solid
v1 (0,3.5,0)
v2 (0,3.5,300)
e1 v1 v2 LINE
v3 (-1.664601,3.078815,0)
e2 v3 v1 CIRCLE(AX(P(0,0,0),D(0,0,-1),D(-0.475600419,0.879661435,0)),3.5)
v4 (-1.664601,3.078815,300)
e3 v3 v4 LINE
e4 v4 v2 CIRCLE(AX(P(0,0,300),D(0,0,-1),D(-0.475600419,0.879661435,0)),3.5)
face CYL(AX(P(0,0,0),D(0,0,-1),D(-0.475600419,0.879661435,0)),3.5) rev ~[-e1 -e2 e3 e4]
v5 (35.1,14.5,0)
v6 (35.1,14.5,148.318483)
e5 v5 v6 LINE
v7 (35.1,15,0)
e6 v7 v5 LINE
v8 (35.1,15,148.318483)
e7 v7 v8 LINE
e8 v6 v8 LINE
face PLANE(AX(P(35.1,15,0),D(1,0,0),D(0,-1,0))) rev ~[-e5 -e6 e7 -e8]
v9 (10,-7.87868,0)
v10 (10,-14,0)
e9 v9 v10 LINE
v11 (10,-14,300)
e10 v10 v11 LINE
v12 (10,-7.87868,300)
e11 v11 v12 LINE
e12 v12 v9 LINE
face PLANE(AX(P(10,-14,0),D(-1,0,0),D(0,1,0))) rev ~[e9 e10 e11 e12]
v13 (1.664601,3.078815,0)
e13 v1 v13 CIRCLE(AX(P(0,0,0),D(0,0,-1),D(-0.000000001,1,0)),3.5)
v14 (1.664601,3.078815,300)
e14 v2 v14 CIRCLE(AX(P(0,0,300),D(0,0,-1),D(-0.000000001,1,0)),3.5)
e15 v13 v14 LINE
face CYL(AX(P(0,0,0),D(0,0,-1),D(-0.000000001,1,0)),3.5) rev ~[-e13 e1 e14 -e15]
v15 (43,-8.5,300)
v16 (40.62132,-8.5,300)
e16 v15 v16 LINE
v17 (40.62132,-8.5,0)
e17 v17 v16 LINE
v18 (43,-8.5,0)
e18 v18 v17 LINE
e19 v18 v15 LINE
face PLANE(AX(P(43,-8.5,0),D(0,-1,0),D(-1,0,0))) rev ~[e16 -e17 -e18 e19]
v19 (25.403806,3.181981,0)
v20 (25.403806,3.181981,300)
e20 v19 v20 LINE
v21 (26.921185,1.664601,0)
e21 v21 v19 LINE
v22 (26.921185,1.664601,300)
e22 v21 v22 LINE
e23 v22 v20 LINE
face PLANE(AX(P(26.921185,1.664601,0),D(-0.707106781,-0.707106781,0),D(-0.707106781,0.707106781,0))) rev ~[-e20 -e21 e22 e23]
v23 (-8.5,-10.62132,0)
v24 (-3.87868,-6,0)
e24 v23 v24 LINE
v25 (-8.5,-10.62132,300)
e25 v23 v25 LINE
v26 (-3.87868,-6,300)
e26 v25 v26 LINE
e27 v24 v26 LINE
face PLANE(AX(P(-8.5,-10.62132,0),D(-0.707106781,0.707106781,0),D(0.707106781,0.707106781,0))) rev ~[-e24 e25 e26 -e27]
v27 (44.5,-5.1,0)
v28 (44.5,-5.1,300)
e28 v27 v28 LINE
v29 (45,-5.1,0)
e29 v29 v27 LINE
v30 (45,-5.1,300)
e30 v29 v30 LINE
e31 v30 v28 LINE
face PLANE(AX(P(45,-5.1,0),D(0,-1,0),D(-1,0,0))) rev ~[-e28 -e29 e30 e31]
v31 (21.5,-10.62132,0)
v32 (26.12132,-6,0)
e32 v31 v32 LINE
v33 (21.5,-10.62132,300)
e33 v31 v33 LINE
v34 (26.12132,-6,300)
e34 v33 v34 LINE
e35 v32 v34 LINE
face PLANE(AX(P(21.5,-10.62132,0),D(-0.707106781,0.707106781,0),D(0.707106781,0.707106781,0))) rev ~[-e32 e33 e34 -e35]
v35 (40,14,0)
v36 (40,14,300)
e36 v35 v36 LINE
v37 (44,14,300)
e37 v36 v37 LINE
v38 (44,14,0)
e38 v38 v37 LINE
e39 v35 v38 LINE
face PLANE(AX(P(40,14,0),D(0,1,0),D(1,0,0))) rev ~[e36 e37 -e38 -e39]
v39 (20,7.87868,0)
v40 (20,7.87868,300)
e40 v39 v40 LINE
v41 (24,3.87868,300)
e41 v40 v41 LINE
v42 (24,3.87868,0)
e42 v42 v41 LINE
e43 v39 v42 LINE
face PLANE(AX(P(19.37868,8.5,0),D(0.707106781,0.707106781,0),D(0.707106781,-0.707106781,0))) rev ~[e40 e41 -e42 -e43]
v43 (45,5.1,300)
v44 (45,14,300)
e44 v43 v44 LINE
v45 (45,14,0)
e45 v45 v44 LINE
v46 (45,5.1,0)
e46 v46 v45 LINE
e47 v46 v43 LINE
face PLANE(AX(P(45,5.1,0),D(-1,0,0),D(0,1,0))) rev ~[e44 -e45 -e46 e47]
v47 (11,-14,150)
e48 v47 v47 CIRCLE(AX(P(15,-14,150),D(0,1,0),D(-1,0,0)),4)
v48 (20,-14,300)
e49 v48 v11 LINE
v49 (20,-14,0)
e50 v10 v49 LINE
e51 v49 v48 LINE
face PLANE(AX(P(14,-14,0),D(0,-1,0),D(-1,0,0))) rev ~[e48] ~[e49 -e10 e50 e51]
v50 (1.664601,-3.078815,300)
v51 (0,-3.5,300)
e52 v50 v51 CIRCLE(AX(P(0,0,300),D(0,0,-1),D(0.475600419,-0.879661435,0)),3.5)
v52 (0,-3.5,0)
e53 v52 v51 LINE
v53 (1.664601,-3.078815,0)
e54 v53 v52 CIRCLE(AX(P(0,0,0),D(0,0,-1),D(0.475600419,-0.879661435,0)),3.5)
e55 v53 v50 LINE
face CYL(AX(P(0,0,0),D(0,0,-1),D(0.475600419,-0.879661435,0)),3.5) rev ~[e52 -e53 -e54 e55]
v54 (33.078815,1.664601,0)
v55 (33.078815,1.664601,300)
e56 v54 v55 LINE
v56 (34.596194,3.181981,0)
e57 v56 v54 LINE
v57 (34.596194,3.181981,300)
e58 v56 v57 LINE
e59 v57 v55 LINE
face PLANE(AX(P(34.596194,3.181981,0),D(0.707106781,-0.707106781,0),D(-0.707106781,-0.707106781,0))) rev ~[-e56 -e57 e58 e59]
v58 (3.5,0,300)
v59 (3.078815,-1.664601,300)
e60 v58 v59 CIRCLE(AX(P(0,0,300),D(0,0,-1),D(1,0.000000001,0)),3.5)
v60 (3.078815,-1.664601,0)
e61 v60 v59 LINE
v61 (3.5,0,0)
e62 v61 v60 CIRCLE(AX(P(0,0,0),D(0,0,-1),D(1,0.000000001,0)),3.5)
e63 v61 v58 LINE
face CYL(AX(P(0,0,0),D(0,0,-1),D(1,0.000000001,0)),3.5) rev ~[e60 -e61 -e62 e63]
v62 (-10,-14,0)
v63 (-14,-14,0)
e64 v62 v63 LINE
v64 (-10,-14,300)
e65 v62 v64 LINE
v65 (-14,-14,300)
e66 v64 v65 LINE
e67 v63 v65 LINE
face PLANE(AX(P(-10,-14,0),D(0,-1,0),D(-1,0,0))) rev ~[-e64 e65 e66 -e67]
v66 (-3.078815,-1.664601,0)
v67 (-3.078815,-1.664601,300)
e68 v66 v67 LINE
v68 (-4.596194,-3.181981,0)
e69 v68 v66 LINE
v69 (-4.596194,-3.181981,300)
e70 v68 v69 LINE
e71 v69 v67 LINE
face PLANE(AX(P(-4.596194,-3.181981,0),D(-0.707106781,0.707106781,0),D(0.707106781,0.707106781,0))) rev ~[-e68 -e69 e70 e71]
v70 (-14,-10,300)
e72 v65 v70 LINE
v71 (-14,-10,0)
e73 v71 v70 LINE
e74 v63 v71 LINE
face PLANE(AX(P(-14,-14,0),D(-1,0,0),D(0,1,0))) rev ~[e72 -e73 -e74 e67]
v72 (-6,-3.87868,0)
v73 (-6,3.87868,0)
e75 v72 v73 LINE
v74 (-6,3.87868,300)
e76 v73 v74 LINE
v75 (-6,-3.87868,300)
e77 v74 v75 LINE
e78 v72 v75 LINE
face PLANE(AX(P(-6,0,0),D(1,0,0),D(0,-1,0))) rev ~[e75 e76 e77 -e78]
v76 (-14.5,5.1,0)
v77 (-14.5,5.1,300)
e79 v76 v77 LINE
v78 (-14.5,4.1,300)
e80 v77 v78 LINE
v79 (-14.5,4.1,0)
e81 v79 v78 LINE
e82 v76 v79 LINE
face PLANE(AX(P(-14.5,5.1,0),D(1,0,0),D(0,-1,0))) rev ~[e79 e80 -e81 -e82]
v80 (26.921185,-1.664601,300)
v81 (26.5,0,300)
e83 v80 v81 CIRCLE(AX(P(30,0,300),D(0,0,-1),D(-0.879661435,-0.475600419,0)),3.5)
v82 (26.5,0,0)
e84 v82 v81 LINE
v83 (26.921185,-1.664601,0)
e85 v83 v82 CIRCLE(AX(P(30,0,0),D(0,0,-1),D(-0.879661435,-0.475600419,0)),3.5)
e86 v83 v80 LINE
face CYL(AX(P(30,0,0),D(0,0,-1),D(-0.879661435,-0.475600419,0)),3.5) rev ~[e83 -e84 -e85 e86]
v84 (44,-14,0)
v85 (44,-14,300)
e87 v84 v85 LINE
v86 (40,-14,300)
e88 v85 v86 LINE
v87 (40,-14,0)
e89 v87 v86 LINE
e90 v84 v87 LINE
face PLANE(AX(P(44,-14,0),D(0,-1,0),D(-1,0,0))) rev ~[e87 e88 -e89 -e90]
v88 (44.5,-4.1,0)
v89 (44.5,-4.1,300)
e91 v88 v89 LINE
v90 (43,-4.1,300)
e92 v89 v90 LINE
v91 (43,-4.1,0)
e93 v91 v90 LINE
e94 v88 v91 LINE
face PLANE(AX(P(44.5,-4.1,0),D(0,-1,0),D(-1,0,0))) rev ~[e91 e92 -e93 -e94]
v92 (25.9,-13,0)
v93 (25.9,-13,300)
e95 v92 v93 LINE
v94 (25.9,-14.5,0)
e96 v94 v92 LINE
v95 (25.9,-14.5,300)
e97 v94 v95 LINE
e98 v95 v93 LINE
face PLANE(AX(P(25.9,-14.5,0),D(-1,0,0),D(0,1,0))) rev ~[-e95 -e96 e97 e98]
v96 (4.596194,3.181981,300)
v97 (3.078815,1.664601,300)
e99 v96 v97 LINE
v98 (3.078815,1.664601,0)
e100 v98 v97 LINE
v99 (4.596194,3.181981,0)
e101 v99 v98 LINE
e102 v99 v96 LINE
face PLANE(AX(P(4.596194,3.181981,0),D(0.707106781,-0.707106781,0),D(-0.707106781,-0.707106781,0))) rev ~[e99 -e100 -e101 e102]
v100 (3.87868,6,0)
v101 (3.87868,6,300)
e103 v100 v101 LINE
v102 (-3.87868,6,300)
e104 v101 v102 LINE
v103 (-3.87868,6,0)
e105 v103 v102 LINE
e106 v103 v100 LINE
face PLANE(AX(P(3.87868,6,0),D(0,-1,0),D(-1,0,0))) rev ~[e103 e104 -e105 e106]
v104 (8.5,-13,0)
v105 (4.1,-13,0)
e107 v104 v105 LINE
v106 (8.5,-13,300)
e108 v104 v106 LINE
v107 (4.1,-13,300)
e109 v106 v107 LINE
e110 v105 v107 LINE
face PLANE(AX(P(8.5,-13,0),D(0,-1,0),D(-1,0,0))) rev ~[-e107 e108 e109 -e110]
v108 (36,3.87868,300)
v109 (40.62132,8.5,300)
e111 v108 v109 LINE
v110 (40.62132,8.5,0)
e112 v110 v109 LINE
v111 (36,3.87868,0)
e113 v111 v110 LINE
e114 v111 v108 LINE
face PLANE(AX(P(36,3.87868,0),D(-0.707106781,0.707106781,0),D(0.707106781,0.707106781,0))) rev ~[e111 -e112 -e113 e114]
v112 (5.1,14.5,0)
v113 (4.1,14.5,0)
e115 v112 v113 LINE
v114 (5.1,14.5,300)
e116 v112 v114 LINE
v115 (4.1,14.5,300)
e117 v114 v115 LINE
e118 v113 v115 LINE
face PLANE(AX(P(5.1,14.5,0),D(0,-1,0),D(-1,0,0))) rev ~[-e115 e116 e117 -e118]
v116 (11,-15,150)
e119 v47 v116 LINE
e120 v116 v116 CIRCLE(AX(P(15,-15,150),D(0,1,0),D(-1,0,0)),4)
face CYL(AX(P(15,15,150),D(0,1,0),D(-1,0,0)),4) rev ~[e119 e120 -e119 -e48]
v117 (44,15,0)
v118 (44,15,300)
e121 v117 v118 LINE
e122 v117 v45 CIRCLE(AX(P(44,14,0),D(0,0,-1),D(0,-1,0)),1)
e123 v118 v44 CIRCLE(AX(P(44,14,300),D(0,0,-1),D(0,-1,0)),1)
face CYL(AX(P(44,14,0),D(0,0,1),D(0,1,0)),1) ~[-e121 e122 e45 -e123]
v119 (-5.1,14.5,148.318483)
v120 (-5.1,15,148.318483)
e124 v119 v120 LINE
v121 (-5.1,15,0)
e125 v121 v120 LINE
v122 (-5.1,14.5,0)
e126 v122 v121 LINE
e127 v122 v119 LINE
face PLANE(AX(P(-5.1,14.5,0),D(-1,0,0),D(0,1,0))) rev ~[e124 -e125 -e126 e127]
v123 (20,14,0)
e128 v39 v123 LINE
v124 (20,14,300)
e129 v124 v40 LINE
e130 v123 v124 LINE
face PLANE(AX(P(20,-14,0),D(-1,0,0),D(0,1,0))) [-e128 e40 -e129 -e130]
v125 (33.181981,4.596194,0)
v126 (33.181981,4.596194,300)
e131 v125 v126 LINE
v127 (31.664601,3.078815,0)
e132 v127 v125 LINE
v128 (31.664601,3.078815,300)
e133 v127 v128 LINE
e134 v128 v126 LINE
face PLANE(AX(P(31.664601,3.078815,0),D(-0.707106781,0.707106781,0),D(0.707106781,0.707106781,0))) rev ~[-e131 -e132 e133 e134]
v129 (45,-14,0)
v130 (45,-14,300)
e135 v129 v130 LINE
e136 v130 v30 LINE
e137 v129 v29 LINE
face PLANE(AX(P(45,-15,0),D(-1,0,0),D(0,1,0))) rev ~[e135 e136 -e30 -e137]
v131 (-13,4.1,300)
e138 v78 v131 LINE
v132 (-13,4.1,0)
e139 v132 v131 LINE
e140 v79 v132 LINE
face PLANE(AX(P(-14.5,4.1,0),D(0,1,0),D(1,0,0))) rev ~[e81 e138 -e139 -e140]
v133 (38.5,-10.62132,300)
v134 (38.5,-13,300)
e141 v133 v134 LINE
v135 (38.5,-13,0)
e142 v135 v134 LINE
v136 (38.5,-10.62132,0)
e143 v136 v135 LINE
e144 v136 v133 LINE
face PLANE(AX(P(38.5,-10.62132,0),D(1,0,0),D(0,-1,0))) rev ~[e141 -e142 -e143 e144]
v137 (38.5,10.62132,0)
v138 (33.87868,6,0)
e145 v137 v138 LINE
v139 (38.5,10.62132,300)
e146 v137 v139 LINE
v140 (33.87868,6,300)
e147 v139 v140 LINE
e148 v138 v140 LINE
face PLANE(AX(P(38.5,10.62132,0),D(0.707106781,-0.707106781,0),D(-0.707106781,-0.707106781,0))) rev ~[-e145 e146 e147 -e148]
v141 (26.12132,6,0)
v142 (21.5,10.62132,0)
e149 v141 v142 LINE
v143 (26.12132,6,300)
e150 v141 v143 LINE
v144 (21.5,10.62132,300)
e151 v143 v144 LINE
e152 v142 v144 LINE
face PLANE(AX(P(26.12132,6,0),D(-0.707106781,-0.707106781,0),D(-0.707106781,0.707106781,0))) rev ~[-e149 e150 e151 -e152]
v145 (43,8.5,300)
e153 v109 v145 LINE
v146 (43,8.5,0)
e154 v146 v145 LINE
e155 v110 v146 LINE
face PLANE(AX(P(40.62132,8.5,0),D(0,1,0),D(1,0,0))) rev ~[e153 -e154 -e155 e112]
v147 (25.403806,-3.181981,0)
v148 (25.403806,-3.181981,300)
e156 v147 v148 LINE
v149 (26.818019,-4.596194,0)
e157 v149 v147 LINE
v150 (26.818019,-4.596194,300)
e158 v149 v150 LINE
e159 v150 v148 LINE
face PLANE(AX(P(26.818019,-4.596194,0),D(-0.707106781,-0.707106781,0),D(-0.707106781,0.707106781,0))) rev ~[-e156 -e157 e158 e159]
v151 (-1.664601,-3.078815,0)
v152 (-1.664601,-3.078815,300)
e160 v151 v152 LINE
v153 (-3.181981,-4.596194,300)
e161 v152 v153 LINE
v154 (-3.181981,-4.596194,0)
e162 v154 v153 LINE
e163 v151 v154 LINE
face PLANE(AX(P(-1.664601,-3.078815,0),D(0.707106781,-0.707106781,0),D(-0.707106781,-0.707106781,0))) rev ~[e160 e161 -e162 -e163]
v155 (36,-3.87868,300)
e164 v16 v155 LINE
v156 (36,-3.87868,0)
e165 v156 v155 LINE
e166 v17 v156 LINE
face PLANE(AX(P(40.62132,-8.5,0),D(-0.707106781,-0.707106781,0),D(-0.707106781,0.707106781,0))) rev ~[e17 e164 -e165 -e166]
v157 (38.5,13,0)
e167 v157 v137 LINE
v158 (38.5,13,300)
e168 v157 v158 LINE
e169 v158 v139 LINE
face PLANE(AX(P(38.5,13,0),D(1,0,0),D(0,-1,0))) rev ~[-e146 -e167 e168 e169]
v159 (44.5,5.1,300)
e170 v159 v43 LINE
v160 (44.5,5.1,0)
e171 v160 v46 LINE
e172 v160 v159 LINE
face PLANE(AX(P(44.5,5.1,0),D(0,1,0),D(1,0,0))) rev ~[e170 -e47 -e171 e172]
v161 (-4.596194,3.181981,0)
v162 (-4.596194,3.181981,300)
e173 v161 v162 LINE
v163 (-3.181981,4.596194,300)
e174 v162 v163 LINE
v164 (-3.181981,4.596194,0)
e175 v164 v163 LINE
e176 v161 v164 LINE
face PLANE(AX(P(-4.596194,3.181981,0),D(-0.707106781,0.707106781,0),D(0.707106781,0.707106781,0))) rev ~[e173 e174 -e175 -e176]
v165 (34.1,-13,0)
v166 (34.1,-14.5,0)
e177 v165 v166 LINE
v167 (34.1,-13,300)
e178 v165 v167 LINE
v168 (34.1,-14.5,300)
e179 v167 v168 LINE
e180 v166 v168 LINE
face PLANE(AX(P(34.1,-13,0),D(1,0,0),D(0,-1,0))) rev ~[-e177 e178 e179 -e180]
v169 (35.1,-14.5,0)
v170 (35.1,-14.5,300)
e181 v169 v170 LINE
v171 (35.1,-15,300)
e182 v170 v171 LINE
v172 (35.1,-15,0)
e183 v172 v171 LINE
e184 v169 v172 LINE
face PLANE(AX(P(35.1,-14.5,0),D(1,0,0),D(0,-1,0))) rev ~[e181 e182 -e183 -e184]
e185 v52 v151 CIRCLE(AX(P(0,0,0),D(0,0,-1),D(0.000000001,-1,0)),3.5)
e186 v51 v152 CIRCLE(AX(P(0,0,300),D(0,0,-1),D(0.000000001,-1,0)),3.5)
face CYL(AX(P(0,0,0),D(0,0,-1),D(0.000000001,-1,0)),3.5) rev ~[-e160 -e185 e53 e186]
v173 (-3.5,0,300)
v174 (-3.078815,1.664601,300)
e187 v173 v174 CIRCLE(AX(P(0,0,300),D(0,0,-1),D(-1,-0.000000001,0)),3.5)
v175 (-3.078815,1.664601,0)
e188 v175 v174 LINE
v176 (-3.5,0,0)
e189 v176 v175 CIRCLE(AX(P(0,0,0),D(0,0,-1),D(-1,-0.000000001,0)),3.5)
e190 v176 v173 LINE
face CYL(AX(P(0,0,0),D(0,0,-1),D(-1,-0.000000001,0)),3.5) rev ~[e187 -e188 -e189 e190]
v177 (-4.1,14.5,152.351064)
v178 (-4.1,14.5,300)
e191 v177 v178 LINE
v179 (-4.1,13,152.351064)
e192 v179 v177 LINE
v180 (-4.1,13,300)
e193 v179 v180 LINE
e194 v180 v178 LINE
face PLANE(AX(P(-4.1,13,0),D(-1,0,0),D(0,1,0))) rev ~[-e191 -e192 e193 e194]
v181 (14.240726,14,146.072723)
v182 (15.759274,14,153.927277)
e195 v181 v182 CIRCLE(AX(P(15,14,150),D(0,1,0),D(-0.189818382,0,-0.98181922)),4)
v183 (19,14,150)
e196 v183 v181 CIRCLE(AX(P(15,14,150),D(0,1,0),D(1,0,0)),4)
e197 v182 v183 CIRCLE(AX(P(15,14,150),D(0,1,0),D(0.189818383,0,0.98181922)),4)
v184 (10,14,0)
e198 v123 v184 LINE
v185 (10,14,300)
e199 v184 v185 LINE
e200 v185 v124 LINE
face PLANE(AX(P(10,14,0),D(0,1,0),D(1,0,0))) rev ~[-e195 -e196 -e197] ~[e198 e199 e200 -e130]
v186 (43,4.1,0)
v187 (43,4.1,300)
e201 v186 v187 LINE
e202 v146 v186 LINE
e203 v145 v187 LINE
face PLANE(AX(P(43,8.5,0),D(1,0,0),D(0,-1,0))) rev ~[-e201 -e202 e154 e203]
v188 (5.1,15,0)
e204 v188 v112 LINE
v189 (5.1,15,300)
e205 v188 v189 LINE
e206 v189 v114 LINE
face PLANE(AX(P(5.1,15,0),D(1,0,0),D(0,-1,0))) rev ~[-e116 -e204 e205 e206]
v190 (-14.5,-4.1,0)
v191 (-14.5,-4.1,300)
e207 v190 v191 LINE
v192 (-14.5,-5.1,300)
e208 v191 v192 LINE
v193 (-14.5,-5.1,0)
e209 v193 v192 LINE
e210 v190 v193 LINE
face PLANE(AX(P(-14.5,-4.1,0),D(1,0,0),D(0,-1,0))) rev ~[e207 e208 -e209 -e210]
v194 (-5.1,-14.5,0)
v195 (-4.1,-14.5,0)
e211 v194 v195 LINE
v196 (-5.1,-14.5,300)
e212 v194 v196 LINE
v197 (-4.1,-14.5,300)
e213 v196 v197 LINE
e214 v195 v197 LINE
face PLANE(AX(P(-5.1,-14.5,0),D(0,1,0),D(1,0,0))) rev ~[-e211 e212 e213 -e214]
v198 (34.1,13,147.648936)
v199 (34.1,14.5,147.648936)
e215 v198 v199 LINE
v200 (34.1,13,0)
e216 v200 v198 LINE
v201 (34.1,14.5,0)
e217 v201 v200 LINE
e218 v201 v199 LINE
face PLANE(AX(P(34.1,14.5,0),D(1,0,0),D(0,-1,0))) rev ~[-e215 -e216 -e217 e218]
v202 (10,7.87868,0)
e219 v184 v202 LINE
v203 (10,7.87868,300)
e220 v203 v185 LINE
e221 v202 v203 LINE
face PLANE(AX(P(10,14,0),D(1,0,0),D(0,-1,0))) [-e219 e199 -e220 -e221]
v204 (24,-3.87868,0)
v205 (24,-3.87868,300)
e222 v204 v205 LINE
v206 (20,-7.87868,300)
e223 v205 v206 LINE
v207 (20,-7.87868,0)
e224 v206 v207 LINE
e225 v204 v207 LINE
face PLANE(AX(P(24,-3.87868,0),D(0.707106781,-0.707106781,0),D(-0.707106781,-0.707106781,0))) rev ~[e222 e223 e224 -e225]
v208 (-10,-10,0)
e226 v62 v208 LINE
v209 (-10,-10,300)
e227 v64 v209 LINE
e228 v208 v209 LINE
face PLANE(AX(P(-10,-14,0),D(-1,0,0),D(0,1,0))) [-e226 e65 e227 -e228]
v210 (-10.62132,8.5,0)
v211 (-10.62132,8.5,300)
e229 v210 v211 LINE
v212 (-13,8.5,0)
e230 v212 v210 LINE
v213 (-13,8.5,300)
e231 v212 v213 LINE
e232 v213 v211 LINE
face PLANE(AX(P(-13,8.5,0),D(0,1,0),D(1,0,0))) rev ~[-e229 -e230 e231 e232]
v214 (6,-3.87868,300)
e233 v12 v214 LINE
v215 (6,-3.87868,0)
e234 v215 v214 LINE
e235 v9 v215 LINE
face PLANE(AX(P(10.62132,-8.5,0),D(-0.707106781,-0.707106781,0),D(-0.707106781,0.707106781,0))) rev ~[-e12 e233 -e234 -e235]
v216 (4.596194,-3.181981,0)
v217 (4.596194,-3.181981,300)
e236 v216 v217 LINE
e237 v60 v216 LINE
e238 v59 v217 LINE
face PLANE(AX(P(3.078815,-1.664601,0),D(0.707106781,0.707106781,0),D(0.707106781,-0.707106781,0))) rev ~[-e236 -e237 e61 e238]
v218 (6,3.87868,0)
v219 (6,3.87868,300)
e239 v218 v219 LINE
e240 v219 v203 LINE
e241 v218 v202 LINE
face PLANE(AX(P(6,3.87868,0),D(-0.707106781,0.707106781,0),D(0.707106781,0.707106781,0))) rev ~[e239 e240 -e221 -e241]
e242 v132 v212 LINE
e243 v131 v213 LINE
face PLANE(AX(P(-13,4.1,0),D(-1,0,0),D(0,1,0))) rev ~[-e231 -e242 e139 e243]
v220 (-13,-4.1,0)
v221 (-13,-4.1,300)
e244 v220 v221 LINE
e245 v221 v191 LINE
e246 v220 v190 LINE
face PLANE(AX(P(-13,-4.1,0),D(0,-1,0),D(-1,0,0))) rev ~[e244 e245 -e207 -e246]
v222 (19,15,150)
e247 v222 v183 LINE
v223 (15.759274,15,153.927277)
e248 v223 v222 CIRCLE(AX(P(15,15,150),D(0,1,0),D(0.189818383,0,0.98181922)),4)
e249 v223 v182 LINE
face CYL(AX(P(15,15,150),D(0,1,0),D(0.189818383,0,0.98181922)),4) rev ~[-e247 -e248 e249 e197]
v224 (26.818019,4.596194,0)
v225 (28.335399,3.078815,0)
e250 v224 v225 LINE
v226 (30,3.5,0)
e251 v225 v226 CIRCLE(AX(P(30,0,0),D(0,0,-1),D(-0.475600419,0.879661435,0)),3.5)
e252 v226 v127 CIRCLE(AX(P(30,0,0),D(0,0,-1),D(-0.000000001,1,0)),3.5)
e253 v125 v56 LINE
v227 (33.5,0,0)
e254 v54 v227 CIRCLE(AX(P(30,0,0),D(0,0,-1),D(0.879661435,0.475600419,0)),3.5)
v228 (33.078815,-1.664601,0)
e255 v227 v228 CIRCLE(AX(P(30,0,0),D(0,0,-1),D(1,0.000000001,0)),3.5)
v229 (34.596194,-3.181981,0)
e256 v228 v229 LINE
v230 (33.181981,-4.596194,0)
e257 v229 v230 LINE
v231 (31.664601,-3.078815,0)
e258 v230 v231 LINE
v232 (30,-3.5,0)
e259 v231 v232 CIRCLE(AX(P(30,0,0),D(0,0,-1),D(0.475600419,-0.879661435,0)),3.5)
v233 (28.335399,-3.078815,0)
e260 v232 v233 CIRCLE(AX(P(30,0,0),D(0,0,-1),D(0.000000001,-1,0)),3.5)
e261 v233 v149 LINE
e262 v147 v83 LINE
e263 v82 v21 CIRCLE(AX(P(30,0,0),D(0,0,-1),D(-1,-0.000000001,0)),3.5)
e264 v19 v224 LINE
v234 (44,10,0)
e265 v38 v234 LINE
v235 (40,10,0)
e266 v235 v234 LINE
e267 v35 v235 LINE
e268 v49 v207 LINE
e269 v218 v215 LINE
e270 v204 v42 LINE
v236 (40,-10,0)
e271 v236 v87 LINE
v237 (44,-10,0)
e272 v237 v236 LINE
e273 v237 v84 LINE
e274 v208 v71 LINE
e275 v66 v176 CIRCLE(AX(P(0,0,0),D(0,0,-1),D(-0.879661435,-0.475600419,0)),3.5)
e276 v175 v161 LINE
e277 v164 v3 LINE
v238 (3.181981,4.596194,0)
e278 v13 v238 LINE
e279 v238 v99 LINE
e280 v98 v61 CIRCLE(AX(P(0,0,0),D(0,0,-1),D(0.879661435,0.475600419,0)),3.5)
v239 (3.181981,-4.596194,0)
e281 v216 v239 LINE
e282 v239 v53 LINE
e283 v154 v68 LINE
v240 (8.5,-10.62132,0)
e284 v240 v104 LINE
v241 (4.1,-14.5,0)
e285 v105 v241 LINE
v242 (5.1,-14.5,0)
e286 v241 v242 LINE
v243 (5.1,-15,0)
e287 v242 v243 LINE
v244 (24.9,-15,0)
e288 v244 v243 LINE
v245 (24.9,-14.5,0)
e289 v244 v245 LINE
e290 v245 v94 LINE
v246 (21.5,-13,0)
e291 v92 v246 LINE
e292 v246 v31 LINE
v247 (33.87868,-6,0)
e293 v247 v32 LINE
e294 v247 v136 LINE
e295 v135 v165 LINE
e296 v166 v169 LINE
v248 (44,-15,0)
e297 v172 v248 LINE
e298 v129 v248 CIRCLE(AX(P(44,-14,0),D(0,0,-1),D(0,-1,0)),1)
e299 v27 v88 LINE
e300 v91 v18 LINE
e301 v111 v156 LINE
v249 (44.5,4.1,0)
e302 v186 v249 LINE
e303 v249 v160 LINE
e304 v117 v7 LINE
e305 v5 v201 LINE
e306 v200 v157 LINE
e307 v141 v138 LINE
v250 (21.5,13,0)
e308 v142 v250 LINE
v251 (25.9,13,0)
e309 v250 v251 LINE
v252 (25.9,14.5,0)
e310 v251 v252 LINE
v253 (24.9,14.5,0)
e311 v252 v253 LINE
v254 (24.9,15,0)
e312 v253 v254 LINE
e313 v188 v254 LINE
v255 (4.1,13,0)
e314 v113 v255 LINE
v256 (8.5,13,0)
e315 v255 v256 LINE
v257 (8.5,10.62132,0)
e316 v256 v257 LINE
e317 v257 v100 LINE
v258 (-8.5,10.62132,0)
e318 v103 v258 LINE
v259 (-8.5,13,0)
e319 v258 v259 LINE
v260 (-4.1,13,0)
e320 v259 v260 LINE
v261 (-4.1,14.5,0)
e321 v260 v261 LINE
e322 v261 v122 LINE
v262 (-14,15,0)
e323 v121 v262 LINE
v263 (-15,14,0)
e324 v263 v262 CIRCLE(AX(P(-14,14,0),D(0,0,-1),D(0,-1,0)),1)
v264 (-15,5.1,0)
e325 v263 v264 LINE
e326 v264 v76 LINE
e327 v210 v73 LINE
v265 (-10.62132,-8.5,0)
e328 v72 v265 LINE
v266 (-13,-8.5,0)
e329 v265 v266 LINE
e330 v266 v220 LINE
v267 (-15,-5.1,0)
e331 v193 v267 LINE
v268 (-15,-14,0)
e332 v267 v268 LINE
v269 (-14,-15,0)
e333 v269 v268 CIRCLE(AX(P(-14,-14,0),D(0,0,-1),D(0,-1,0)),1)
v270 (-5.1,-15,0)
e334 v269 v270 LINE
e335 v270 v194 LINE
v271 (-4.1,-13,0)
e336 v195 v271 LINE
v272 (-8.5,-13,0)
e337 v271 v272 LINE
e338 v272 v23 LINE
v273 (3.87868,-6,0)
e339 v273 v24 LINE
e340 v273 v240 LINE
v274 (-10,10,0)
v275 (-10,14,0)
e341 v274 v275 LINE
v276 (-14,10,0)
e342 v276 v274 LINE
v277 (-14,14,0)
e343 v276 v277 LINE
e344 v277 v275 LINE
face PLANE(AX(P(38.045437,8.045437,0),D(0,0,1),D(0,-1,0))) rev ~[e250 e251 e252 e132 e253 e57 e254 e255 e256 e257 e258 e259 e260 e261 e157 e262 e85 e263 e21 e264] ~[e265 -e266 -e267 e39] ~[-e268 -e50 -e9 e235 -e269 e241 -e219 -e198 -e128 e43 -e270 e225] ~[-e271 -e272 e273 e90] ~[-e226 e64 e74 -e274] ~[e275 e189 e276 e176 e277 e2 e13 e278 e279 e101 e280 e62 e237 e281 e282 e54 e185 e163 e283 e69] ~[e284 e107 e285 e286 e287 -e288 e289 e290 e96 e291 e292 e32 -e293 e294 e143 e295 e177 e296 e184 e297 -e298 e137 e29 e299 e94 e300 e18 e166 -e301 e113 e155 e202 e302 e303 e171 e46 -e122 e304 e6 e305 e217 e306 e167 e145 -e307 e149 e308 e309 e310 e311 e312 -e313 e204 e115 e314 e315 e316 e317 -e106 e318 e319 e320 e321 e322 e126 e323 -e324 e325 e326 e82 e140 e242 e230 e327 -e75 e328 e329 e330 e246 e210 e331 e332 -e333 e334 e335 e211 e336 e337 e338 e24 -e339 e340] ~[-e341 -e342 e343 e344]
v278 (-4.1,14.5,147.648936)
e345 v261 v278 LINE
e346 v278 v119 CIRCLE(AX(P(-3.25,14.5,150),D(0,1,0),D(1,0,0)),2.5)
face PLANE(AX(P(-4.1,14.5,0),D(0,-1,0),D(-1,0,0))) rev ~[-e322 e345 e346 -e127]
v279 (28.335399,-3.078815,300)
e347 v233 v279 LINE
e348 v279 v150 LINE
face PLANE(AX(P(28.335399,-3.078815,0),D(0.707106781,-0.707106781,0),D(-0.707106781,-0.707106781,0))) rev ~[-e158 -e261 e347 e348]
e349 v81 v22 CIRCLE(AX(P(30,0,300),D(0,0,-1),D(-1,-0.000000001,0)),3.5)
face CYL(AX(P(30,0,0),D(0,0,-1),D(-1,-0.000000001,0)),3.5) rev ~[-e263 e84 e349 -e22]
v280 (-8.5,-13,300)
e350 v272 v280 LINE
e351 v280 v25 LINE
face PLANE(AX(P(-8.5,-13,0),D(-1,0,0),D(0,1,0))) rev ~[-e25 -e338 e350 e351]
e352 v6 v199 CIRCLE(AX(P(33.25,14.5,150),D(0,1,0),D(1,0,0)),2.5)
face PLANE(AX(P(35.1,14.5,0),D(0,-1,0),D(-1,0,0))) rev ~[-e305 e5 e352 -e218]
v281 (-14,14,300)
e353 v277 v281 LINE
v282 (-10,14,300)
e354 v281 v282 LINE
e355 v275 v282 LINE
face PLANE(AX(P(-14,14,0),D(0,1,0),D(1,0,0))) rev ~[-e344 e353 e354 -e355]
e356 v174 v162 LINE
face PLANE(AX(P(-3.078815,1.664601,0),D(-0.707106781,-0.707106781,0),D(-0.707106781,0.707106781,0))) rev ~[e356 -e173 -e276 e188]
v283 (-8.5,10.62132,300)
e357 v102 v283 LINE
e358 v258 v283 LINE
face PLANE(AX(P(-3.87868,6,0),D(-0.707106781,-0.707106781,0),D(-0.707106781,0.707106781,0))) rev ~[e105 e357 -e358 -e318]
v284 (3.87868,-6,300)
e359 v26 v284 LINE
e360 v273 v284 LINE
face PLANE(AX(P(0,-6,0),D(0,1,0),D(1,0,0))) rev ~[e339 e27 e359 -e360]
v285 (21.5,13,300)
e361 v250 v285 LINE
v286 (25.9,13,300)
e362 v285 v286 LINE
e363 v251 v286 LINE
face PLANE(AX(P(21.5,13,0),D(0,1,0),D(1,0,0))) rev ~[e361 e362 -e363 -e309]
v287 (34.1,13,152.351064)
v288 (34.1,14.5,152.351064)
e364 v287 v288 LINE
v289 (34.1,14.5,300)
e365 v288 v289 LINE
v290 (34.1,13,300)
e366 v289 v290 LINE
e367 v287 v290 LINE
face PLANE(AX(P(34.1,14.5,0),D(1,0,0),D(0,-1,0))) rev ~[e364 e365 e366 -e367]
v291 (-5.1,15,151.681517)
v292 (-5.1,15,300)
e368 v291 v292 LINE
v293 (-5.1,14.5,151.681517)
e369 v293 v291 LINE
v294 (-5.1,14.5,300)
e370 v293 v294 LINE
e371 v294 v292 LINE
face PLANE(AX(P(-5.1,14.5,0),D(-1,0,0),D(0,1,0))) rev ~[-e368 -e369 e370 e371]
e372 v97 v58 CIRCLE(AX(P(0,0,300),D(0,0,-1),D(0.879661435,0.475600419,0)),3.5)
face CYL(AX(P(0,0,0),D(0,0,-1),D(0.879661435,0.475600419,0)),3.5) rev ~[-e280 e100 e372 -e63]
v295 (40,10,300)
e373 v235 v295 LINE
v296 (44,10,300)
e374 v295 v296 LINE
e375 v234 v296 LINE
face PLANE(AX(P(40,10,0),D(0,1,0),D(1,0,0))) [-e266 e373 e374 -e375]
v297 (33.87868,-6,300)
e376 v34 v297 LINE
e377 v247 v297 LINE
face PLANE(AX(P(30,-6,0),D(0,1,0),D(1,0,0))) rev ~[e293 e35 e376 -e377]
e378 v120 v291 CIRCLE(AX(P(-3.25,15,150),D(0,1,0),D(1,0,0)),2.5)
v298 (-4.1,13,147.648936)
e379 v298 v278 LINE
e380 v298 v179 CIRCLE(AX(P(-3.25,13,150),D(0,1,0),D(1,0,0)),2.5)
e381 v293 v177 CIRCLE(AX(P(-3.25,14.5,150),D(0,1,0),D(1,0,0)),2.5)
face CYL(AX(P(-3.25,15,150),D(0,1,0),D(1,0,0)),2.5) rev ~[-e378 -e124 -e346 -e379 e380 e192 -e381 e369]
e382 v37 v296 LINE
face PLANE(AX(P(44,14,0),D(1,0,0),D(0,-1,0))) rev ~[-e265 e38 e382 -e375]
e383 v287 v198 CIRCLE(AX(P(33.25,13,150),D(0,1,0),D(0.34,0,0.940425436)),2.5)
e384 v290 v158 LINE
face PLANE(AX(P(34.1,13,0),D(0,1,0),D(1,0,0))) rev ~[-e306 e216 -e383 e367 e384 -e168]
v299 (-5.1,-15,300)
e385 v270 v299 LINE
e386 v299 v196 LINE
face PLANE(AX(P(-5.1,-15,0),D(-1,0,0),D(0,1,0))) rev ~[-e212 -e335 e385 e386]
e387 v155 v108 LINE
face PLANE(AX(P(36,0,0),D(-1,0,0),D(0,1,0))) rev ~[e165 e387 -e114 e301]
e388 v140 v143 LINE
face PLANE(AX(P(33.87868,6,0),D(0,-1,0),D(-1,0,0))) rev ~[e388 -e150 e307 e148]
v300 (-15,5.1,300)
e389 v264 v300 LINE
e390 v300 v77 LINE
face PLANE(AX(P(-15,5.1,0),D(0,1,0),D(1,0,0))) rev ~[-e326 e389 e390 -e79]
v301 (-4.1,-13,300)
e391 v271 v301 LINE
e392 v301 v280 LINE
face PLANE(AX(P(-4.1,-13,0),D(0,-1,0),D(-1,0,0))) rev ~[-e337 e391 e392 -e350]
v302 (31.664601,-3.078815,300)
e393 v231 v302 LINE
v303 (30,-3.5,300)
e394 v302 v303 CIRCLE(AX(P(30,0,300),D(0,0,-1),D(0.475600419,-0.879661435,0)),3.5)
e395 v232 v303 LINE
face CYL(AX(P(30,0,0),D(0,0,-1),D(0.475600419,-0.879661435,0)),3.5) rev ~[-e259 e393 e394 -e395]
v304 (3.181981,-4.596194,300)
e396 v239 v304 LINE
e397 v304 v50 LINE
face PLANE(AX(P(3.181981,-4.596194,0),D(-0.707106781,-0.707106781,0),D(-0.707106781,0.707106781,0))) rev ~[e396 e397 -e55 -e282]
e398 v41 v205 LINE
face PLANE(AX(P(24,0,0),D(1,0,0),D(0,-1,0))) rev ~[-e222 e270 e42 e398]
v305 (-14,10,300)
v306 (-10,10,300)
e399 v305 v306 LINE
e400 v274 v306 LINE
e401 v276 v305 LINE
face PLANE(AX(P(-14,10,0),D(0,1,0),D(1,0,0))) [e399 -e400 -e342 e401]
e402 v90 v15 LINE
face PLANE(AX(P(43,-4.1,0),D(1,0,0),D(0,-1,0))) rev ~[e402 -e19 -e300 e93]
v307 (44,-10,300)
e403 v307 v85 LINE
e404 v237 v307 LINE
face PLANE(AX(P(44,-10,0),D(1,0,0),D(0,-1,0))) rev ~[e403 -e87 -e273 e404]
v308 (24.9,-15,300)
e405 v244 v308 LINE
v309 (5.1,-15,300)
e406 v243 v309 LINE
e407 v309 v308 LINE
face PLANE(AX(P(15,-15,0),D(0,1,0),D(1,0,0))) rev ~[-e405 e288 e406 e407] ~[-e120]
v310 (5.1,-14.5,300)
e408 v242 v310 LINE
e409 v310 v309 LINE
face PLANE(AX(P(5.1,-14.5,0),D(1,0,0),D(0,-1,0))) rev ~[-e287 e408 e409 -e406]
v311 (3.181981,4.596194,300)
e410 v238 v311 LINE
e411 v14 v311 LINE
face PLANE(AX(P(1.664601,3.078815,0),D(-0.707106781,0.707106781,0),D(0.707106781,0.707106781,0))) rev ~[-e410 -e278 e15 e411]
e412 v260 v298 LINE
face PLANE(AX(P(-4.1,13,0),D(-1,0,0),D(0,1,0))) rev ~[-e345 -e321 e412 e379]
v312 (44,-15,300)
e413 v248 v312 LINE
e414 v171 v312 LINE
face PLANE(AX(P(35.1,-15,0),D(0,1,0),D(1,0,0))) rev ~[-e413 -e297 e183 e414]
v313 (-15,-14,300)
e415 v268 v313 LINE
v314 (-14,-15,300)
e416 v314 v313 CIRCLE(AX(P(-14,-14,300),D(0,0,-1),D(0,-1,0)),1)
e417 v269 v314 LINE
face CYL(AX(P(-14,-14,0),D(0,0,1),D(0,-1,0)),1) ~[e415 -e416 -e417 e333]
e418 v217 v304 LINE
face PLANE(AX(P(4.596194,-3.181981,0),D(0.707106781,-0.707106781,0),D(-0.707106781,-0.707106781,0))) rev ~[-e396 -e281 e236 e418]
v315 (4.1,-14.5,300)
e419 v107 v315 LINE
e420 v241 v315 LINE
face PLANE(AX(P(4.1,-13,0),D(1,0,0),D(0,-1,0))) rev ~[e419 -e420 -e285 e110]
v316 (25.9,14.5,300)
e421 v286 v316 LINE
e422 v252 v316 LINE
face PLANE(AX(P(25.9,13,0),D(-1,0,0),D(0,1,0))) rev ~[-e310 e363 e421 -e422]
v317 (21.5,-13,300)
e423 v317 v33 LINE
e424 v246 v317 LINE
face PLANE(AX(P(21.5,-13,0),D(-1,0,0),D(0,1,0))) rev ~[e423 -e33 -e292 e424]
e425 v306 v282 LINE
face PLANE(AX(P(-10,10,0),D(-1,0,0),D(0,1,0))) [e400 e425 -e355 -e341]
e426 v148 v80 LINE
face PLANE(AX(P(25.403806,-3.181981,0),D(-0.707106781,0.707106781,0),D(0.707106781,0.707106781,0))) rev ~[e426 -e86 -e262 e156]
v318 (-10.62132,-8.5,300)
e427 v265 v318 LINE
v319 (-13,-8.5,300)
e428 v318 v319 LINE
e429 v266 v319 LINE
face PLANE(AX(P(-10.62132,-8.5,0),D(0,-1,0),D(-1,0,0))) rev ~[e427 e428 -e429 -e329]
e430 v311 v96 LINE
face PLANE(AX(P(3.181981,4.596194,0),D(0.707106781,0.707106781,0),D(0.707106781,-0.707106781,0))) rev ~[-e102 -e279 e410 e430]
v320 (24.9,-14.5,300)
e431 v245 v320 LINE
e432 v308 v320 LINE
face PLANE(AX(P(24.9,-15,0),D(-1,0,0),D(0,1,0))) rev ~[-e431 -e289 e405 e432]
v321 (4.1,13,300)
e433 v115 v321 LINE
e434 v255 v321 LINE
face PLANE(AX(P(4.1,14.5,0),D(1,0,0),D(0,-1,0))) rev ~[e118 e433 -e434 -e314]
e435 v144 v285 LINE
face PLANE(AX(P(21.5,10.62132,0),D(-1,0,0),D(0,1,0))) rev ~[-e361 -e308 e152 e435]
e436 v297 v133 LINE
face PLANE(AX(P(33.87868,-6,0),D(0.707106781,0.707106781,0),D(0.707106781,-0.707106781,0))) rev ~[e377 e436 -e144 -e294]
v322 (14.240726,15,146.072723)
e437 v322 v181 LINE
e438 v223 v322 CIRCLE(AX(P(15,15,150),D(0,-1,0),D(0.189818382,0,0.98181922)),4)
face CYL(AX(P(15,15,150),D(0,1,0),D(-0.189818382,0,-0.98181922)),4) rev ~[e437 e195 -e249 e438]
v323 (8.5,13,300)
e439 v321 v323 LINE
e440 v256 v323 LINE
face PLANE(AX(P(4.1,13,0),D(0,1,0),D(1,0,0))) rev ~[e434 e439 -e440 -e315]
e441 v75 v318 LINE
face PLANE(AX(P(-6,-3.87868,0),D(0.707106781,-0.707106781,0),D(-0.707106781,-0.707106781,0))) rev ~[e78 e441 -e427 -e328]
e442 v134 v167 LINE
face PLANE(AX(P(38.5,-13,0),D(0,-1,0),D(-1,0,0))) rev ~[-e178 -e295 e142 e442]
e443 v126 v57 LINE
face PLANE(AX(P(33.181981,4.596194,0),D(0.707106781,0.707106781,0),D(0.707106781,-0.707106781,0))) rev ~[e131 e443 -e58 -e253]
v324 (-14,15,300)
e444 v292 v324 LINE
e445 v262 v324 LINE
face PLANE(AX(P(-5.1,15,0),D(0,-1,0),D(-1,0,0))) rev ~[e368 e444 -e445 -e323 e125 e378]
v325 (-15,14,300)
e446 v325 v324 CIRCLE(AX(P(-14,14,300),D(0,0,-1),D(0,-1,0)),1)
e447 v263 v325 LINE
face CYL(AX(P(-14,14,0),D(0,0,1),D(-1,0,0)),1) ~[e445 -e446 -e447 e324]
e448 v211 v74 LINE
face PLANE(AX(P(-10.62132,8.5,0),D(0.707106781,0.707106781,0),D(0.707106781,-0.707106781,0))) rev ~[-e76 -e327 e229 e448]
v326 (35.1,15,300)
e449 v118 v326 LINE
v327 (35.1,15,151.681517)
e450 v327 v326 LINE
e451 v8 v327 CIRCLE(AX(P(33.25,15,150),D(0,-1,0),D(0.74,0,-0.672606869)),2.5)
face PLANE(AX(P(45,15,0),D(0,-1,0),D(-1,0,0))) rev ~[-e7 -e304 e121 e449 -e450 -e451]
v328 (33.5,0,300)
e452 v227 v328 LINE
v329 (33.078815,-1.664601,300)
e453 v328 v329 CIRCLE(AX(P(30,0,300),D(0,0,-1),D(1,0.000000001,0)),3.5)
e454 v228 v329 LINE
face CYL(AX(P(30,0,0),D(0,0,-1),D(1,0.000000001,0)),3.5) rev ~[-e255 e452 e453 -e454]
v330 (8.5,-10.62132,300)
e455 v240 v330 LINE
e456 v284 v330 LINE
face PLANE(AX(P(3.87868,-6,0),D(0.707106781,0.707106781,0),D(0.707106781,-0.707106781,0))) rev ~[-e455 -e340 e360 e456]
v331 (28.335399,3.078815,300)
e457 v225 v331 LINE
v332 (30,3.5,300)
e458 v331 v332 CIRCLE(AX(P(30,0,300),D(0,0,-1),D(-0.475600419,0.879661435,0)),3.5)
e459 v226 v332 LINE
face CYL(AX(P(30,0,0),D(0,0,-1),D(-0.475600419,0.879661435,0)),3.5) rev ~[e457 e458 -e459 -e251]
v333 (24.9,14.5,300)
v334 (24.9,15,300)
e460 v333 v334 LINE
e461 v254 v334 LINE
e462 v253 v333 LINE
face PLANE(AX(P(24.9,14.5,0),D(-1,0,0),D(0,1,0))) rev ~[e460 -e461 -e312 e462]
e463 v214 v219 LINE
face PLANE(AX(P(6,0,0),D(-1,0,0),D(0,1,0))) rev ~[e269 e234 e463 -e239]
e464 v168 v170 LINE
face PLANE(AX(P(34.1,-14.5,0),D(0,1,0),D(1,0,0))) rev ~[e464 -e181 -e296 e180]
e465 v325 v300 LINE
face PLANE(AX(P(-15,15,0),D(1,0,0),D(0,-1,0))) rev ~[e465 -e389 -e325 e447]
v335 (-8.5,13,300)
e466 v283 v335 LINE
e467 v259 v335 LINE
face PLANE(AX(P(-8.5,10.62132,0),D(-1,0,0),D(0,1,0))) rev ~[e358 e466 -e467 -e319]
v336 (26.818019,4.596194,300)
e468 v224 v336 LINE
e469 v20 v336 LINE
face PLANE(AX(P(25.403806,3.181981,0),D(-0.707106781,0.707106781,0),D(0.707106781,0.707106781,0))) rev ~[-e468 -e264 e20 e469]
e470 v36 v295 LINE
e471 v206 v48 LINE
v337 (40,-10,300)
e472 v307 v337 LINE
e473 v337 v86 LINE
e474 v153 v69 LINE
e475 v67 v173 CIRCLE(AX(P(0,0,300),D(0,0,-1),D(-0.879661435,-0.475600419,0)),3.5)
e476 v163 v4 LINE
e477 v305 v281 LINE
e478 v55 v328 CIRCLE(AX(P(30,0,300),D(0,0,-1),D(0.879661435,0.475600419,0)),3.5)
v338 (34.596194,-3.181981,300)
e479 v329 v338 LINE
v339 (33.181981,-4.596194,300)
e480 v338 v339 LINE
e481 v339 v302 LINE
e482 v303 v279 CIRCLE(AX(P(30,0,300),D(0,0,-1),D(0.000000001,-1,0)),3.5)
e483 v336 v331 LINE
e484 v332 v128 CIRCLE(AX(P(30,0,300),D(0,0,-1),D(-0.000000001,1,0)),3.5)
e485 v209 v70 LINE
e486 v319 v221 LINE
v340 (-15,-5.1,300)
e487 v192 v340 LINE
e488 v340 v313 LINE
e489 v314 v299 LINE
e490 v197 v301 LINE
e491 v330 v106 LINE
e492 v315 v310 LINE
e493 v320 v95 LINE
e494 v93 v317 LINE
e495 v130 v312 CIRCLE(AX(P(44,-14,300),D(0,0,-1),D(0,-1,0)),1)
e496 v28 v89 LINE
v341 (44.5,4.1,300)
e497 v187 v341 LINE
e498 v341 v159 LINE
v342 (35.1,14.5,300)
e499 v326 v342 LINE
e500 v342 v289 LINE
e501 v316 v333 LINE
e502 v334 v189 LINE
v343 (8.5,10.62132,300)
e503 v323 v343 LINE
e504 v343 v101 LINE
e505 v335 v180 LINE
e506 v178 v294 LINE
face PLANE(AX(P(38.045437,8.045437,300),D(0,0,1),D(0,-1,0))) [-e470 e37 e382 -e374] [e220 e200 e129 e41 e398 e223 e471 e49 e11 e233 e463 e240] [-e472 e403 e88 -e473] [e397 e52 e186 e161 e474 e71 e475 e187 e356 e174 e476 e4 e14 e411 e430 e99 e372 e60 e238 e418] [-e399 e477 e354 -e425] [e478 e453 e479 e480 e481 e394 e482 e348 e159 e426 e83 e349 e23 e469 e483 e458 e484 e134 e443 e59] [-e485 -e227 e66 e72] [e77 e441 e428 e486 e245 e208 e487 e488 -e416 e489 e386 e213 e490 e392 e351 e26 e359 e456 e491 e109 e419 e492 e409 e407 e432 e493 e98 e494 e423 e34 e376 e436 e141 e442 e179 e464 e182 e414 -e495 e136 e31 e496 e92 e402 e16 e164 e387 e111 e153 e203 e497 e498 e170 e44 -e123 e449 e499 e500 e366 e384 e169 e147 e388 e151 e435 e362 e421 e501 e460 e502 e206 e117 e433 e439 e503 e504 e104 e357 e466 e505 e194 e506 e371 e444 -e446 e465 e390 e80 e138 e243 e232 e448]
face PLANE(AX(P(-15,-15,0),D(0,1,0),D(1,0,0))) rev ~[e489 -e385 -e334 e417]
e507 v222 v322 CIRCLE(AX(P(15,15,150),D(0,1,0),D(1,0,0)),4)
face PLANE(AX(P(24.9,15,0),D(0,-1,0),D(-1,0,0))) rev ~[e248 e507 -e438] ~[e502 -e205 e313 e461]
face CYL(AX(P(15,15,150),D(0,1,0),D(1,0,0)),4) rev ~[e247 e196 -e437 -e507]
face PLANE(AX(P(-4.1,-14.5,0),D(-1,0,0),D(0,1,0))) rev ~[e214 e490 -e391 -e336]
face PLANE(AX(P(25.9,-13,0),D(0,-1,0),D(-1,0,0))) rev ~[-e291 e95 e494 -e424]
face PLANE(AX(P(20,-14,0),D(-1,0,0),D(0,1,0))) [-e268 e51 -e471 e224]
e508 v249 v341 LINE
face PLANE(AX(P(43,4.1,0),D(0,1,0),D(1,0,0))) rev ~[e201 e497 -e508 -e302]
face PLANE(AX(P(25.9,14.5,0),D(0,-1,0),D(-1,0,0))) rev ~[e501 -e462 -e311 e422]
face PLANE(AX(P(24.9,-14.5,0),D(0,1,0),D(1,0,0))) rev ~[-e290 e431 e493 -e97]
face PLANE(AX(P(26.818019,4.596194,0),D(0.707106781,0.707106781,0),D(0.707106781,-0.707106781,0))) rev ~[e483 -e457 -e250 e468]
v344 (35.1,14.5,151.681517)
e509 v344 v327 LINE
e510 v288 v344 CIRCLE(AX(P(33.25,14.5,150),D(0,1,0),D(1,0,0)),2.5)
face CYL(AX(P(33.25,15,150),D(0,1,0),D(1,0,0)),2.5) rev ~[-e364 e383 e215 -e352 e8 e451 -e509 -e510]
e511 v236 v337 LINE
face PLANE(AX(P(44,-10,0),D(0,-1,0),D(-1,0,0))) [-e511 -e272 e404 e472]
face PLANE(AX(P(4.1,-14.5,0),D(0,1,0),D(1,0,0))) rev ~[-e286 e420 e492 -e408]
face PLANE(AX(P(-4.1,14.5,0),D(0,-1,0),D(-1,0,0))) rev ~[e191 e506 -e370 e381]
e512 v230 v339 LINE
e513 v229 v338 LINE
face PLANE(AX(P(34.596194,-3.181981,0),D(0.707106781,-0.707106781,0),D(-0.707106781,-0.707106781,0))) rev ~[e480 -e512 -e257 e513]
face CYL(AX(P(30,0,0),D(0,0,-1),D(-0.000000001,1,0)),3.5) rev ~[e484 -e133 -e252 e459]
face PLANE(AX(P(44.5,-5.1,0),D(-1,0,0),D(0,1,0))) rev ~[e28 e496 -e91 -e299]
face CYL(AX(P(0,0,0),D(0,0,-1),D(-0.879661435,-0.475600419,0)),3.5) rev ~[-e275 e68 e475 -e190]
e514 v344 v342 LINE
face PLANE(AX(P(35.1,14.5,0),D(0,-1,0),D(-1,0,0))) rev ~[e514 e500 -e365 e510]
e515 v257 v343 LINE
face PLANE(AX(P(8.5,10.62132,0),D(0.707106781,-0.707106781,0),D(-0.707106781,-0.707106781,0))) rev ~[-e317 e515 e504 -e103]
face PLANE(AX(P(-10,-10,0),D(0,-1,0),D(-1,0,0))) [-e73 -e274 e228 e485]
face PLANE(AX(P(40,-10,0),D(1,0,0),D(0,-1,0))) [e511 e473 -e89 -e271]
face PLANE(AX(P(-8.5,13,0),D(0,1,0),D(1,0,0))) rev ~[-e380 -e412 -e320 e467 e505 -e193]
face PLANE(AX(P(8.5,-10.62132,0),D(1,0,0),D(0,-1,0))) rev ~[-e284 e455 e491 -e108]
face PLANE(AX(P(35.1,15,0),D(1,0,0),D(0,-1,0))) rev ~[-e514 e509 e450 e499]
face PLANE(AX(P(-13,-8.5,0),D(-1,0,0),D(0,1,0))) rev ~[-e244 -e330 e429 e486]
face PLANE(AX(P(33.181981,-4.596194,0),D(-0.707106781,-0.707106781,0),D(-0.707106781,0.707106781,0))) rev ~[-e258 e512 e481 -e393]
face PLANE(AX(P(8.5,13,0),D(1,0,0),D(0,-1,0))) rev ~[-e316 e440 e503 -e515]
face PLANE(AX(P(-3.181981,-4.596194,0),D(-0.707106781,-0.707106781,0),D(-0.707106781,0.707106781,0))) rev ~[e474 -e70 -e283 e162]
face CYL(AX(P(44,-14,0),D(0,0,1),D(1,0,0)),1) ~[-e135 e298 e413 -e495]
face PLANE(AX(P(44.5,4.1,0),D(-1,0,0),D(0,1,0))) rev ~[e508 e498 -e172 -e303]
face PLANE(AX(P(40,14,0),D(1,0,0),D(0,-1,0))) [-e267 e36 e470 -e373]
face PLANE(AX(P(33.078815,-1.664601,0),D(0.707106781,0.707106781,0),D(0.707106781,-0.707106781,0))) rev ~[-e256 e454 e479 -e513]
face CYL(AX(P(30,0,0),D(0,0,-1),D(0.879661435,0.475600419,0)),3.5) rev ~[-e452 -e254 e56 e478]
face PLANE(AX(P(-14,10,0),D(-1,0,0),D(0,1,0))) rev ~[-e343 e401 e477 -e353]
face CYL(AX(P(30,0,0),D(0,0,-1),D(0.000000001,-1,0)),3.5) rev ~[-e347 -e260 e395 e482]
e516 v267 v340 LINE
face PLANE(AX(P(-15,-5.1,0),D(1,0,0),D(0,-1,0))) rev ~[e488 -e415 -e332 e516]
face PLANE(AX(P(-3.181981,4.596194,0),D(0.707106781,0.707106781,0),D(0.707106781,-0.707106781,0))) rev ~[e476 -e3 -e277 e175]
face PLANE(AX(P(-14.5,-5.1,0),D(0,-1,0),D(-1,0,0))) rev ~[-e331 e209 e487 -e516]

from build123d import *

# Parameters (mm, degrees)
ESBO_O1_W                      = 4
ESBO_O1_H                      = 4
RESSALTO_EXTRUS_O1_DEPTH       = 300
PADR_OCIRCULAR1_COUNT          = 4
PADR_O_LINEAR1_COUNT           = 2
PADR_O_LINEAR1_PITCH           = 30
PADR_O_LINEAR1_COPY_1_SKETCH_W = 4
PADR_O_LINEAR1_COPY_1_SKETCH_H = 4
PADR_O_LINEAR1_COPY_1_DEPTH    = 300
PADR_O_LINEAR1_COPY_2_SKETCH_W = 4
PADR_O_LINEAR1_COPY_2_SKETCH_H = 4
PADR_O_LINEAR1_COPY_2_DEPTH    = 300
PADR_O_LINEAR1_COPY_3_SKETCH_W = 4
PADR_O_LINEAR1_COPY_3_SKETCH_H = 4
PADR_O_LINEAR1_COPY_3_DEPTH    = 300
ESBO_O4_W                      = 10
ESBO_O4_H                      = 28
CORTE_EXTRUS_O1_DEPTH          = 304.72685097
FILETE1_R                      = 1
SKETCH1_R                      = 2.5
CUT_EXTRUDE1_DEPTH             = 3
SKETCH2_R                      = 4
CUT_EXTRUDE2_DEPTH             = 305.836021494


with BuildPart() as part:
    # Esboço1 → Ressalto-extrusão1 (new body)
    with BuildSketch(Plane.XY):
        with BuildLine():
            ThreePointArc((-1.664601464, 3.078815026), (-0.858529967, 3.393070335), (0, 3.5))
            Line((0, 3.5), (0, 6))
            Line((0, 6), (-3.878679656, 6))
            Line((-3.878679656, 6), (-8.5, 10.621320344))
            Line((-8.5, 10.621320344), (-8.5, 13))
            Line((-8.5, 13), (-4.1, 13))
            Line((-4.1, 13), (-4.1, 14.5))
            Line((-4.1, 14.5), (-5.1, 14.5))
            Line((-5.1, 14.5), (-5.1, 15))
            Line((-5.1, 15), (-15, 15))
            Line((-15, 15), (-15, 5.1))
            Line((-15, 5.1), (-14.5, 5.1))
            Line((-14.5, 5.1), (-14.5, 4.1))
            Line((-14.5, 4.1), (-13, 4.1))
            Line((-13, 4.1), (-13, 8.5))
            Line((-13, 8.5), (-10.621320344, 8.5))
            Line((-10.621320344, 8.5), (-6, 3.878679656))
            Line((-6, 3.878679656), (-6, 0))
            Line((-6, 0), (-3.5, 0))
            ThreePointArc((-3.5, 0), (-3.393070335, 0.858529967), (-3.078815026, 1.664601464))
            Line((-3.078815026, 1.664601464), (-4.596194078, 3.181980515))
            Line((-4.596194078, 3.181980515), (-3.181980515, 4.596194078))
            Line((-3.181980515, 4.596194078), (-1.664601464, 3.078815026))
        make_face()
        with Locations((-12, 12)):
            Rectangle(ESBO_O1_W, ESBO_O1_H, mode=Mode.SUBTRACT)
    ressalto_extrus_o1 = extrude(amount=RESSALTO_EXTRUS_O1_DEPTH)

    # PadrãoCircular1: Ressalto-extrusão1 ×4 about axis
    padr_ocircular1_axis = Axis((0, 0, 0), (0, 0, 1))
    for i in range(1, PADR_OCIRCULAR1_COUNT):
        add(ressalto_extrus_o1.rotate(padr_ocircular1_axis, i * 360 / PADR_OCIRCULAR1_COUNT))

    # Padrão linear1: Ressalto-extrusão1 ×2
    with Locations(*[(i * PADR_O_LINEAR1_PITCH, 0, 0) for i in range(1, PADR_O_LINEAR1_COUNT)]):
        add(ressalto_extrus_o1)

    # Padrão linear1 copy 1 sketch → Padrão linear1 copy 1 (add)
    with BuildSketch(Plane(origin=(30, 0, 0), x_dir=(0, 1, 0), z_dir=(0, 0, 1))):
        with BuildLine():
            ThreePointArc((-1.664601464, 3.078815026), (-0.858529967, 3.393070335), (0, 3.5))
            Line((0, 3.5), (0, 6))
            Line((0, 6), (-3.878679656, 6))
            Line((-3.878679656, 6), (-8.5, 10.621320344))
            Line((-8.5, 10.621320344), (-8.5, 13))
            Line((-8.5, 13), (-4.1, 13))
            Line((-4.1, 13), (-4.1, 14.5))
            Line((-4.1, 14.5), (-5.1, 14.5))
            Line((-5.1, 14.5), (-5.1, 15))
            Line((-5.1, 15), (-15, 15))
            Line((-15, 15), (-15, 5.1))
            Line((-15, 5.1), (-14.5, 5.1))
            Line((-14.5, 5.1), (-14.5, 4.1))
            Line((-14.5, 4.1), (-13, 4.1))
            Line((-13, 4.1), (-13, 8.5))
            Line((-13, 8.5), (-10.621320344, 8.5))
            Line((-10.621320344, 8.5), (-6, 3.878679656))
            Line((-6, 3.878679656), (-6, 0))
            Line((-6, 0), (-3.5, 0))
            ThreePointArc((-3.5, 0), (-3.393070335, 0.858529967), (-3.078815026, 1.664601464))
            Line((-3.078815026, 1.664601464), (-4.596194078, 3.181980515))
            Line((-4.596194078, 3.181980515), (-3.181980515, 4.596194078))
            Line((-3.181980515, 4.596194078), (-1.664601464, 3.078815026))
        make_face()
        with Locations((-12, 12)):
            Rectangle(PADR_O_LINEAR1_COPY_1_SKETCH_W, PADR_O_LINEAR1_COPY_1_SKETCH_H, mode=Mode.SUBTRACT)
    extrude(amount=PADR_O_LINEAR1_COPY_1_DEPTH)

    # Padrão linear1 copy 2 sketch → Padrão linear1 copy 2 (add)
    with BuildSketch(Plane(origin=(30, 0, 0), x_dir=(-1, 0, 0), z_dir=(0, 0, 1))):
        with BuildLine():
            ThreePointArc((-1.664601464, 3.078815026), (-0.858529967, 3.393070335), (0, 3.5))
            Line((0, 3.5), (0, 6))
            Line((0, 6), (-3.878679656, 6))
            Line((-3.878679656, 6), (-8.5, 10.621320344))
            Line((-8.5, 10.621320344), (-8.5, 13))
            Line((-8.5, 13), (-4.1, 13))
            Line((-4.1, 13), (-4.1, 14.5))
            Line((-4.1, 14.5), (-5.1, 14.5))
            Line((-5.1, 14.5), (-5.1, 15))
            Line((-5.1, 15), (-15, 15))
            Line((-15, 15), (-15, 5.1))
            Line((-15, 5.1), (-14.5, 5.1))
            Line((-14.5, 5.1), (-14.5, 4.1))
            Line((-14.5, 4.1), (-13, 4.1))
            Line((-13, 4.1), (-13, 8.5))
            Line((-13, 8.5), (-10.621320344, 8.5))
            Line((-10.621320344, 8.5), (-6, 3.878679656))
            Line((-6, 3.878679656), (-6, 0))
            Line((-6, 0), (-3.5, 0))
            ThreePointArc((-3.5, 0), (-3.393070335, 0.858529967), (-3.078815026, 1.664601464))
            Line((-3.078815026, 1.664601464), (-4.596194078, 3.181980515))
            Line((-4.596194078, 3.181980515), (-3.181980515, 4.596194078))
            Line((-3.181980515, 4.596194078), (-1.664601464, 3.078815026))
        make_face()
        with Locations((-12, 12)):
            Rectangle(PADR_O_LINEAR1_COPY_2_SKETCH_W, PADR_O_LINEAR1_COPY_2_SKETCH_H, mode=Mode.SUBTRACT)
    extrude(amount=PADR_O_LINEAR1_COPY_2_DEPTH)

    # Padrão linear1 copy 3 sketch → Padrão linear1 copy 3 (add)
    with BuildSketch(Plane(origin=(30, 0, 0), x_dir=(0, -1, 0), z_dir=(0, 0, 1))):
        with BuildLine():
            ThreePointArc((-1.664601464, 3.078815026), (-0.858529967, 3.393070335), (0, 3.5))
            Line((0, 3.5), (0, 6))
            Line((0, 6), (-3.878679656, 6))
            Line((-3.878679656, 6), (-8.5, 10.621320344))
            Line((-8.5, 10.621320344), (-8.5, 13))
            Line((-8.5, 13), (-4.1, 13))
            Line((-4.1, 13), (-4.1, 14.5))
            Line((-4.1, 14.5), (-5.1, 14.5))
            Line((-5.1, 14.5), (-5.1, 15))
            Line((-5.1, 15), (-15, 15))
            Line((-15, 15), (-15, 5.1))
            Line((-15, 5.1), (-14.5, 5.1))
            Line((-14.5, 5.1), (-14.5, 4.1))
            Line((-14.5, 4.1), (-13, 4.1))
            Line((-13, 4.1), (-13, 8.5))
            Line((-13, 8.5), (-10.621320344, 8.5))
            Line((-10.621320344, 8.5), (-6, 3.878679656))
            Line((-6, 3.878679656), (-6, 0))
            Line((-6, 0), (-3.5, 0))
            ThreePointArc((-3.5, 0), (-3.393070335, 0.858529967), (-3.078815026, 1.664601464))
            Line((-3.078815026, 1.664601464), (-4.596194078, 3.181980515))
            Line((-4.596194078, 3.181980515), (-3.181980515, 4.596194078))
            Line((-3.181980515, 4.596194078), (-1.664601464, 3.078815026))
        make_face()
        with Locations((-12, 12)):
            Rectangle(PADR_O_LINEAR1_COPY_3_SKETCH_W, PADR_O_LINEAR1_COPY_3_SKETCH_H, mode=Mode.SUBTRACT)
    extrude(amount=PADR_O_LINEAR1_COPY_3_DEPTH)

    # Esboço4 → Corte-extrusão1 (cut, through all)
    with BuildSketch(Plane(origin=(0, 0, 0), x_dir=(-1, 0, 0), z_dir=(0, 0, -1))):
        with Locations((-15, 0)):
            Rectangle(ESBO_O4_W, ESBO_O4_H)
    extrude(amount=-CORTE_EXTRUS_O1_DEPTH, mode=Mode.SUBTRACT)

    # Filete1
    filete1_edges = [part.edges().sort_by_distance(p)[0] for p in [
        (45, -15, 150),
        (45, 15, 150),
        (-15, 15, 150),
        (-15, -15, 150),
    ]]
    fillet(filete1_edges, radius=FILETE1_R)

    # Sketch1 → Cut-Extrude1 (cut)
    with BuildSketch(Plane(origin=(0, 15, 0), x_dir=(1, 0, 0), z_dir=(0, 1, 0))):
        with BuildLine():
            ThreePointArc((19, -150), (17.54586978, -146.914785735), (14.24072647, -146.072723118))
            Line((14.24072647, -146.072723118), (15.75927353, -153.927276882))
            ThreePointArc((15.75927353, -153.927276882), (18.085214265, -152.54586978), (19, -150))
        make_face()
        with BuildLine():
            Line((15.75927353, -153.927276882), (14.24072647, -146.072723118))
            ThreePointArc((14.24072647, -146.072723118), (11.072723118, -150.75927353), (15.75927353, -153.927276882))
        make_face()
        with Locations((33.25, -150)):
            Circle(SKETCH1_R)
        with Locations((-3.25, -150)):
            Circle(SKETCH1_R)
    extrude(amount=-CUT_EXTRUDE1_DEPTH, mode=Mode.SUBTRACT)

    # Sketch2 → Cut-Extrude2 (cut, through all)
    with BuildSketch(Plane(origin=(0, 15, 0), x_dir=(1, 0, 0), z_dir=(0, 1, 0))):
        with Locations(Location((15, -150, 0), (0, 0, 180))):
            Circle(SKETCH2_R)
    extrude(amount=-CUT_EXTRUDE2_DEPTH, mode=Mode.SUBTRACT)


solid = part.part
